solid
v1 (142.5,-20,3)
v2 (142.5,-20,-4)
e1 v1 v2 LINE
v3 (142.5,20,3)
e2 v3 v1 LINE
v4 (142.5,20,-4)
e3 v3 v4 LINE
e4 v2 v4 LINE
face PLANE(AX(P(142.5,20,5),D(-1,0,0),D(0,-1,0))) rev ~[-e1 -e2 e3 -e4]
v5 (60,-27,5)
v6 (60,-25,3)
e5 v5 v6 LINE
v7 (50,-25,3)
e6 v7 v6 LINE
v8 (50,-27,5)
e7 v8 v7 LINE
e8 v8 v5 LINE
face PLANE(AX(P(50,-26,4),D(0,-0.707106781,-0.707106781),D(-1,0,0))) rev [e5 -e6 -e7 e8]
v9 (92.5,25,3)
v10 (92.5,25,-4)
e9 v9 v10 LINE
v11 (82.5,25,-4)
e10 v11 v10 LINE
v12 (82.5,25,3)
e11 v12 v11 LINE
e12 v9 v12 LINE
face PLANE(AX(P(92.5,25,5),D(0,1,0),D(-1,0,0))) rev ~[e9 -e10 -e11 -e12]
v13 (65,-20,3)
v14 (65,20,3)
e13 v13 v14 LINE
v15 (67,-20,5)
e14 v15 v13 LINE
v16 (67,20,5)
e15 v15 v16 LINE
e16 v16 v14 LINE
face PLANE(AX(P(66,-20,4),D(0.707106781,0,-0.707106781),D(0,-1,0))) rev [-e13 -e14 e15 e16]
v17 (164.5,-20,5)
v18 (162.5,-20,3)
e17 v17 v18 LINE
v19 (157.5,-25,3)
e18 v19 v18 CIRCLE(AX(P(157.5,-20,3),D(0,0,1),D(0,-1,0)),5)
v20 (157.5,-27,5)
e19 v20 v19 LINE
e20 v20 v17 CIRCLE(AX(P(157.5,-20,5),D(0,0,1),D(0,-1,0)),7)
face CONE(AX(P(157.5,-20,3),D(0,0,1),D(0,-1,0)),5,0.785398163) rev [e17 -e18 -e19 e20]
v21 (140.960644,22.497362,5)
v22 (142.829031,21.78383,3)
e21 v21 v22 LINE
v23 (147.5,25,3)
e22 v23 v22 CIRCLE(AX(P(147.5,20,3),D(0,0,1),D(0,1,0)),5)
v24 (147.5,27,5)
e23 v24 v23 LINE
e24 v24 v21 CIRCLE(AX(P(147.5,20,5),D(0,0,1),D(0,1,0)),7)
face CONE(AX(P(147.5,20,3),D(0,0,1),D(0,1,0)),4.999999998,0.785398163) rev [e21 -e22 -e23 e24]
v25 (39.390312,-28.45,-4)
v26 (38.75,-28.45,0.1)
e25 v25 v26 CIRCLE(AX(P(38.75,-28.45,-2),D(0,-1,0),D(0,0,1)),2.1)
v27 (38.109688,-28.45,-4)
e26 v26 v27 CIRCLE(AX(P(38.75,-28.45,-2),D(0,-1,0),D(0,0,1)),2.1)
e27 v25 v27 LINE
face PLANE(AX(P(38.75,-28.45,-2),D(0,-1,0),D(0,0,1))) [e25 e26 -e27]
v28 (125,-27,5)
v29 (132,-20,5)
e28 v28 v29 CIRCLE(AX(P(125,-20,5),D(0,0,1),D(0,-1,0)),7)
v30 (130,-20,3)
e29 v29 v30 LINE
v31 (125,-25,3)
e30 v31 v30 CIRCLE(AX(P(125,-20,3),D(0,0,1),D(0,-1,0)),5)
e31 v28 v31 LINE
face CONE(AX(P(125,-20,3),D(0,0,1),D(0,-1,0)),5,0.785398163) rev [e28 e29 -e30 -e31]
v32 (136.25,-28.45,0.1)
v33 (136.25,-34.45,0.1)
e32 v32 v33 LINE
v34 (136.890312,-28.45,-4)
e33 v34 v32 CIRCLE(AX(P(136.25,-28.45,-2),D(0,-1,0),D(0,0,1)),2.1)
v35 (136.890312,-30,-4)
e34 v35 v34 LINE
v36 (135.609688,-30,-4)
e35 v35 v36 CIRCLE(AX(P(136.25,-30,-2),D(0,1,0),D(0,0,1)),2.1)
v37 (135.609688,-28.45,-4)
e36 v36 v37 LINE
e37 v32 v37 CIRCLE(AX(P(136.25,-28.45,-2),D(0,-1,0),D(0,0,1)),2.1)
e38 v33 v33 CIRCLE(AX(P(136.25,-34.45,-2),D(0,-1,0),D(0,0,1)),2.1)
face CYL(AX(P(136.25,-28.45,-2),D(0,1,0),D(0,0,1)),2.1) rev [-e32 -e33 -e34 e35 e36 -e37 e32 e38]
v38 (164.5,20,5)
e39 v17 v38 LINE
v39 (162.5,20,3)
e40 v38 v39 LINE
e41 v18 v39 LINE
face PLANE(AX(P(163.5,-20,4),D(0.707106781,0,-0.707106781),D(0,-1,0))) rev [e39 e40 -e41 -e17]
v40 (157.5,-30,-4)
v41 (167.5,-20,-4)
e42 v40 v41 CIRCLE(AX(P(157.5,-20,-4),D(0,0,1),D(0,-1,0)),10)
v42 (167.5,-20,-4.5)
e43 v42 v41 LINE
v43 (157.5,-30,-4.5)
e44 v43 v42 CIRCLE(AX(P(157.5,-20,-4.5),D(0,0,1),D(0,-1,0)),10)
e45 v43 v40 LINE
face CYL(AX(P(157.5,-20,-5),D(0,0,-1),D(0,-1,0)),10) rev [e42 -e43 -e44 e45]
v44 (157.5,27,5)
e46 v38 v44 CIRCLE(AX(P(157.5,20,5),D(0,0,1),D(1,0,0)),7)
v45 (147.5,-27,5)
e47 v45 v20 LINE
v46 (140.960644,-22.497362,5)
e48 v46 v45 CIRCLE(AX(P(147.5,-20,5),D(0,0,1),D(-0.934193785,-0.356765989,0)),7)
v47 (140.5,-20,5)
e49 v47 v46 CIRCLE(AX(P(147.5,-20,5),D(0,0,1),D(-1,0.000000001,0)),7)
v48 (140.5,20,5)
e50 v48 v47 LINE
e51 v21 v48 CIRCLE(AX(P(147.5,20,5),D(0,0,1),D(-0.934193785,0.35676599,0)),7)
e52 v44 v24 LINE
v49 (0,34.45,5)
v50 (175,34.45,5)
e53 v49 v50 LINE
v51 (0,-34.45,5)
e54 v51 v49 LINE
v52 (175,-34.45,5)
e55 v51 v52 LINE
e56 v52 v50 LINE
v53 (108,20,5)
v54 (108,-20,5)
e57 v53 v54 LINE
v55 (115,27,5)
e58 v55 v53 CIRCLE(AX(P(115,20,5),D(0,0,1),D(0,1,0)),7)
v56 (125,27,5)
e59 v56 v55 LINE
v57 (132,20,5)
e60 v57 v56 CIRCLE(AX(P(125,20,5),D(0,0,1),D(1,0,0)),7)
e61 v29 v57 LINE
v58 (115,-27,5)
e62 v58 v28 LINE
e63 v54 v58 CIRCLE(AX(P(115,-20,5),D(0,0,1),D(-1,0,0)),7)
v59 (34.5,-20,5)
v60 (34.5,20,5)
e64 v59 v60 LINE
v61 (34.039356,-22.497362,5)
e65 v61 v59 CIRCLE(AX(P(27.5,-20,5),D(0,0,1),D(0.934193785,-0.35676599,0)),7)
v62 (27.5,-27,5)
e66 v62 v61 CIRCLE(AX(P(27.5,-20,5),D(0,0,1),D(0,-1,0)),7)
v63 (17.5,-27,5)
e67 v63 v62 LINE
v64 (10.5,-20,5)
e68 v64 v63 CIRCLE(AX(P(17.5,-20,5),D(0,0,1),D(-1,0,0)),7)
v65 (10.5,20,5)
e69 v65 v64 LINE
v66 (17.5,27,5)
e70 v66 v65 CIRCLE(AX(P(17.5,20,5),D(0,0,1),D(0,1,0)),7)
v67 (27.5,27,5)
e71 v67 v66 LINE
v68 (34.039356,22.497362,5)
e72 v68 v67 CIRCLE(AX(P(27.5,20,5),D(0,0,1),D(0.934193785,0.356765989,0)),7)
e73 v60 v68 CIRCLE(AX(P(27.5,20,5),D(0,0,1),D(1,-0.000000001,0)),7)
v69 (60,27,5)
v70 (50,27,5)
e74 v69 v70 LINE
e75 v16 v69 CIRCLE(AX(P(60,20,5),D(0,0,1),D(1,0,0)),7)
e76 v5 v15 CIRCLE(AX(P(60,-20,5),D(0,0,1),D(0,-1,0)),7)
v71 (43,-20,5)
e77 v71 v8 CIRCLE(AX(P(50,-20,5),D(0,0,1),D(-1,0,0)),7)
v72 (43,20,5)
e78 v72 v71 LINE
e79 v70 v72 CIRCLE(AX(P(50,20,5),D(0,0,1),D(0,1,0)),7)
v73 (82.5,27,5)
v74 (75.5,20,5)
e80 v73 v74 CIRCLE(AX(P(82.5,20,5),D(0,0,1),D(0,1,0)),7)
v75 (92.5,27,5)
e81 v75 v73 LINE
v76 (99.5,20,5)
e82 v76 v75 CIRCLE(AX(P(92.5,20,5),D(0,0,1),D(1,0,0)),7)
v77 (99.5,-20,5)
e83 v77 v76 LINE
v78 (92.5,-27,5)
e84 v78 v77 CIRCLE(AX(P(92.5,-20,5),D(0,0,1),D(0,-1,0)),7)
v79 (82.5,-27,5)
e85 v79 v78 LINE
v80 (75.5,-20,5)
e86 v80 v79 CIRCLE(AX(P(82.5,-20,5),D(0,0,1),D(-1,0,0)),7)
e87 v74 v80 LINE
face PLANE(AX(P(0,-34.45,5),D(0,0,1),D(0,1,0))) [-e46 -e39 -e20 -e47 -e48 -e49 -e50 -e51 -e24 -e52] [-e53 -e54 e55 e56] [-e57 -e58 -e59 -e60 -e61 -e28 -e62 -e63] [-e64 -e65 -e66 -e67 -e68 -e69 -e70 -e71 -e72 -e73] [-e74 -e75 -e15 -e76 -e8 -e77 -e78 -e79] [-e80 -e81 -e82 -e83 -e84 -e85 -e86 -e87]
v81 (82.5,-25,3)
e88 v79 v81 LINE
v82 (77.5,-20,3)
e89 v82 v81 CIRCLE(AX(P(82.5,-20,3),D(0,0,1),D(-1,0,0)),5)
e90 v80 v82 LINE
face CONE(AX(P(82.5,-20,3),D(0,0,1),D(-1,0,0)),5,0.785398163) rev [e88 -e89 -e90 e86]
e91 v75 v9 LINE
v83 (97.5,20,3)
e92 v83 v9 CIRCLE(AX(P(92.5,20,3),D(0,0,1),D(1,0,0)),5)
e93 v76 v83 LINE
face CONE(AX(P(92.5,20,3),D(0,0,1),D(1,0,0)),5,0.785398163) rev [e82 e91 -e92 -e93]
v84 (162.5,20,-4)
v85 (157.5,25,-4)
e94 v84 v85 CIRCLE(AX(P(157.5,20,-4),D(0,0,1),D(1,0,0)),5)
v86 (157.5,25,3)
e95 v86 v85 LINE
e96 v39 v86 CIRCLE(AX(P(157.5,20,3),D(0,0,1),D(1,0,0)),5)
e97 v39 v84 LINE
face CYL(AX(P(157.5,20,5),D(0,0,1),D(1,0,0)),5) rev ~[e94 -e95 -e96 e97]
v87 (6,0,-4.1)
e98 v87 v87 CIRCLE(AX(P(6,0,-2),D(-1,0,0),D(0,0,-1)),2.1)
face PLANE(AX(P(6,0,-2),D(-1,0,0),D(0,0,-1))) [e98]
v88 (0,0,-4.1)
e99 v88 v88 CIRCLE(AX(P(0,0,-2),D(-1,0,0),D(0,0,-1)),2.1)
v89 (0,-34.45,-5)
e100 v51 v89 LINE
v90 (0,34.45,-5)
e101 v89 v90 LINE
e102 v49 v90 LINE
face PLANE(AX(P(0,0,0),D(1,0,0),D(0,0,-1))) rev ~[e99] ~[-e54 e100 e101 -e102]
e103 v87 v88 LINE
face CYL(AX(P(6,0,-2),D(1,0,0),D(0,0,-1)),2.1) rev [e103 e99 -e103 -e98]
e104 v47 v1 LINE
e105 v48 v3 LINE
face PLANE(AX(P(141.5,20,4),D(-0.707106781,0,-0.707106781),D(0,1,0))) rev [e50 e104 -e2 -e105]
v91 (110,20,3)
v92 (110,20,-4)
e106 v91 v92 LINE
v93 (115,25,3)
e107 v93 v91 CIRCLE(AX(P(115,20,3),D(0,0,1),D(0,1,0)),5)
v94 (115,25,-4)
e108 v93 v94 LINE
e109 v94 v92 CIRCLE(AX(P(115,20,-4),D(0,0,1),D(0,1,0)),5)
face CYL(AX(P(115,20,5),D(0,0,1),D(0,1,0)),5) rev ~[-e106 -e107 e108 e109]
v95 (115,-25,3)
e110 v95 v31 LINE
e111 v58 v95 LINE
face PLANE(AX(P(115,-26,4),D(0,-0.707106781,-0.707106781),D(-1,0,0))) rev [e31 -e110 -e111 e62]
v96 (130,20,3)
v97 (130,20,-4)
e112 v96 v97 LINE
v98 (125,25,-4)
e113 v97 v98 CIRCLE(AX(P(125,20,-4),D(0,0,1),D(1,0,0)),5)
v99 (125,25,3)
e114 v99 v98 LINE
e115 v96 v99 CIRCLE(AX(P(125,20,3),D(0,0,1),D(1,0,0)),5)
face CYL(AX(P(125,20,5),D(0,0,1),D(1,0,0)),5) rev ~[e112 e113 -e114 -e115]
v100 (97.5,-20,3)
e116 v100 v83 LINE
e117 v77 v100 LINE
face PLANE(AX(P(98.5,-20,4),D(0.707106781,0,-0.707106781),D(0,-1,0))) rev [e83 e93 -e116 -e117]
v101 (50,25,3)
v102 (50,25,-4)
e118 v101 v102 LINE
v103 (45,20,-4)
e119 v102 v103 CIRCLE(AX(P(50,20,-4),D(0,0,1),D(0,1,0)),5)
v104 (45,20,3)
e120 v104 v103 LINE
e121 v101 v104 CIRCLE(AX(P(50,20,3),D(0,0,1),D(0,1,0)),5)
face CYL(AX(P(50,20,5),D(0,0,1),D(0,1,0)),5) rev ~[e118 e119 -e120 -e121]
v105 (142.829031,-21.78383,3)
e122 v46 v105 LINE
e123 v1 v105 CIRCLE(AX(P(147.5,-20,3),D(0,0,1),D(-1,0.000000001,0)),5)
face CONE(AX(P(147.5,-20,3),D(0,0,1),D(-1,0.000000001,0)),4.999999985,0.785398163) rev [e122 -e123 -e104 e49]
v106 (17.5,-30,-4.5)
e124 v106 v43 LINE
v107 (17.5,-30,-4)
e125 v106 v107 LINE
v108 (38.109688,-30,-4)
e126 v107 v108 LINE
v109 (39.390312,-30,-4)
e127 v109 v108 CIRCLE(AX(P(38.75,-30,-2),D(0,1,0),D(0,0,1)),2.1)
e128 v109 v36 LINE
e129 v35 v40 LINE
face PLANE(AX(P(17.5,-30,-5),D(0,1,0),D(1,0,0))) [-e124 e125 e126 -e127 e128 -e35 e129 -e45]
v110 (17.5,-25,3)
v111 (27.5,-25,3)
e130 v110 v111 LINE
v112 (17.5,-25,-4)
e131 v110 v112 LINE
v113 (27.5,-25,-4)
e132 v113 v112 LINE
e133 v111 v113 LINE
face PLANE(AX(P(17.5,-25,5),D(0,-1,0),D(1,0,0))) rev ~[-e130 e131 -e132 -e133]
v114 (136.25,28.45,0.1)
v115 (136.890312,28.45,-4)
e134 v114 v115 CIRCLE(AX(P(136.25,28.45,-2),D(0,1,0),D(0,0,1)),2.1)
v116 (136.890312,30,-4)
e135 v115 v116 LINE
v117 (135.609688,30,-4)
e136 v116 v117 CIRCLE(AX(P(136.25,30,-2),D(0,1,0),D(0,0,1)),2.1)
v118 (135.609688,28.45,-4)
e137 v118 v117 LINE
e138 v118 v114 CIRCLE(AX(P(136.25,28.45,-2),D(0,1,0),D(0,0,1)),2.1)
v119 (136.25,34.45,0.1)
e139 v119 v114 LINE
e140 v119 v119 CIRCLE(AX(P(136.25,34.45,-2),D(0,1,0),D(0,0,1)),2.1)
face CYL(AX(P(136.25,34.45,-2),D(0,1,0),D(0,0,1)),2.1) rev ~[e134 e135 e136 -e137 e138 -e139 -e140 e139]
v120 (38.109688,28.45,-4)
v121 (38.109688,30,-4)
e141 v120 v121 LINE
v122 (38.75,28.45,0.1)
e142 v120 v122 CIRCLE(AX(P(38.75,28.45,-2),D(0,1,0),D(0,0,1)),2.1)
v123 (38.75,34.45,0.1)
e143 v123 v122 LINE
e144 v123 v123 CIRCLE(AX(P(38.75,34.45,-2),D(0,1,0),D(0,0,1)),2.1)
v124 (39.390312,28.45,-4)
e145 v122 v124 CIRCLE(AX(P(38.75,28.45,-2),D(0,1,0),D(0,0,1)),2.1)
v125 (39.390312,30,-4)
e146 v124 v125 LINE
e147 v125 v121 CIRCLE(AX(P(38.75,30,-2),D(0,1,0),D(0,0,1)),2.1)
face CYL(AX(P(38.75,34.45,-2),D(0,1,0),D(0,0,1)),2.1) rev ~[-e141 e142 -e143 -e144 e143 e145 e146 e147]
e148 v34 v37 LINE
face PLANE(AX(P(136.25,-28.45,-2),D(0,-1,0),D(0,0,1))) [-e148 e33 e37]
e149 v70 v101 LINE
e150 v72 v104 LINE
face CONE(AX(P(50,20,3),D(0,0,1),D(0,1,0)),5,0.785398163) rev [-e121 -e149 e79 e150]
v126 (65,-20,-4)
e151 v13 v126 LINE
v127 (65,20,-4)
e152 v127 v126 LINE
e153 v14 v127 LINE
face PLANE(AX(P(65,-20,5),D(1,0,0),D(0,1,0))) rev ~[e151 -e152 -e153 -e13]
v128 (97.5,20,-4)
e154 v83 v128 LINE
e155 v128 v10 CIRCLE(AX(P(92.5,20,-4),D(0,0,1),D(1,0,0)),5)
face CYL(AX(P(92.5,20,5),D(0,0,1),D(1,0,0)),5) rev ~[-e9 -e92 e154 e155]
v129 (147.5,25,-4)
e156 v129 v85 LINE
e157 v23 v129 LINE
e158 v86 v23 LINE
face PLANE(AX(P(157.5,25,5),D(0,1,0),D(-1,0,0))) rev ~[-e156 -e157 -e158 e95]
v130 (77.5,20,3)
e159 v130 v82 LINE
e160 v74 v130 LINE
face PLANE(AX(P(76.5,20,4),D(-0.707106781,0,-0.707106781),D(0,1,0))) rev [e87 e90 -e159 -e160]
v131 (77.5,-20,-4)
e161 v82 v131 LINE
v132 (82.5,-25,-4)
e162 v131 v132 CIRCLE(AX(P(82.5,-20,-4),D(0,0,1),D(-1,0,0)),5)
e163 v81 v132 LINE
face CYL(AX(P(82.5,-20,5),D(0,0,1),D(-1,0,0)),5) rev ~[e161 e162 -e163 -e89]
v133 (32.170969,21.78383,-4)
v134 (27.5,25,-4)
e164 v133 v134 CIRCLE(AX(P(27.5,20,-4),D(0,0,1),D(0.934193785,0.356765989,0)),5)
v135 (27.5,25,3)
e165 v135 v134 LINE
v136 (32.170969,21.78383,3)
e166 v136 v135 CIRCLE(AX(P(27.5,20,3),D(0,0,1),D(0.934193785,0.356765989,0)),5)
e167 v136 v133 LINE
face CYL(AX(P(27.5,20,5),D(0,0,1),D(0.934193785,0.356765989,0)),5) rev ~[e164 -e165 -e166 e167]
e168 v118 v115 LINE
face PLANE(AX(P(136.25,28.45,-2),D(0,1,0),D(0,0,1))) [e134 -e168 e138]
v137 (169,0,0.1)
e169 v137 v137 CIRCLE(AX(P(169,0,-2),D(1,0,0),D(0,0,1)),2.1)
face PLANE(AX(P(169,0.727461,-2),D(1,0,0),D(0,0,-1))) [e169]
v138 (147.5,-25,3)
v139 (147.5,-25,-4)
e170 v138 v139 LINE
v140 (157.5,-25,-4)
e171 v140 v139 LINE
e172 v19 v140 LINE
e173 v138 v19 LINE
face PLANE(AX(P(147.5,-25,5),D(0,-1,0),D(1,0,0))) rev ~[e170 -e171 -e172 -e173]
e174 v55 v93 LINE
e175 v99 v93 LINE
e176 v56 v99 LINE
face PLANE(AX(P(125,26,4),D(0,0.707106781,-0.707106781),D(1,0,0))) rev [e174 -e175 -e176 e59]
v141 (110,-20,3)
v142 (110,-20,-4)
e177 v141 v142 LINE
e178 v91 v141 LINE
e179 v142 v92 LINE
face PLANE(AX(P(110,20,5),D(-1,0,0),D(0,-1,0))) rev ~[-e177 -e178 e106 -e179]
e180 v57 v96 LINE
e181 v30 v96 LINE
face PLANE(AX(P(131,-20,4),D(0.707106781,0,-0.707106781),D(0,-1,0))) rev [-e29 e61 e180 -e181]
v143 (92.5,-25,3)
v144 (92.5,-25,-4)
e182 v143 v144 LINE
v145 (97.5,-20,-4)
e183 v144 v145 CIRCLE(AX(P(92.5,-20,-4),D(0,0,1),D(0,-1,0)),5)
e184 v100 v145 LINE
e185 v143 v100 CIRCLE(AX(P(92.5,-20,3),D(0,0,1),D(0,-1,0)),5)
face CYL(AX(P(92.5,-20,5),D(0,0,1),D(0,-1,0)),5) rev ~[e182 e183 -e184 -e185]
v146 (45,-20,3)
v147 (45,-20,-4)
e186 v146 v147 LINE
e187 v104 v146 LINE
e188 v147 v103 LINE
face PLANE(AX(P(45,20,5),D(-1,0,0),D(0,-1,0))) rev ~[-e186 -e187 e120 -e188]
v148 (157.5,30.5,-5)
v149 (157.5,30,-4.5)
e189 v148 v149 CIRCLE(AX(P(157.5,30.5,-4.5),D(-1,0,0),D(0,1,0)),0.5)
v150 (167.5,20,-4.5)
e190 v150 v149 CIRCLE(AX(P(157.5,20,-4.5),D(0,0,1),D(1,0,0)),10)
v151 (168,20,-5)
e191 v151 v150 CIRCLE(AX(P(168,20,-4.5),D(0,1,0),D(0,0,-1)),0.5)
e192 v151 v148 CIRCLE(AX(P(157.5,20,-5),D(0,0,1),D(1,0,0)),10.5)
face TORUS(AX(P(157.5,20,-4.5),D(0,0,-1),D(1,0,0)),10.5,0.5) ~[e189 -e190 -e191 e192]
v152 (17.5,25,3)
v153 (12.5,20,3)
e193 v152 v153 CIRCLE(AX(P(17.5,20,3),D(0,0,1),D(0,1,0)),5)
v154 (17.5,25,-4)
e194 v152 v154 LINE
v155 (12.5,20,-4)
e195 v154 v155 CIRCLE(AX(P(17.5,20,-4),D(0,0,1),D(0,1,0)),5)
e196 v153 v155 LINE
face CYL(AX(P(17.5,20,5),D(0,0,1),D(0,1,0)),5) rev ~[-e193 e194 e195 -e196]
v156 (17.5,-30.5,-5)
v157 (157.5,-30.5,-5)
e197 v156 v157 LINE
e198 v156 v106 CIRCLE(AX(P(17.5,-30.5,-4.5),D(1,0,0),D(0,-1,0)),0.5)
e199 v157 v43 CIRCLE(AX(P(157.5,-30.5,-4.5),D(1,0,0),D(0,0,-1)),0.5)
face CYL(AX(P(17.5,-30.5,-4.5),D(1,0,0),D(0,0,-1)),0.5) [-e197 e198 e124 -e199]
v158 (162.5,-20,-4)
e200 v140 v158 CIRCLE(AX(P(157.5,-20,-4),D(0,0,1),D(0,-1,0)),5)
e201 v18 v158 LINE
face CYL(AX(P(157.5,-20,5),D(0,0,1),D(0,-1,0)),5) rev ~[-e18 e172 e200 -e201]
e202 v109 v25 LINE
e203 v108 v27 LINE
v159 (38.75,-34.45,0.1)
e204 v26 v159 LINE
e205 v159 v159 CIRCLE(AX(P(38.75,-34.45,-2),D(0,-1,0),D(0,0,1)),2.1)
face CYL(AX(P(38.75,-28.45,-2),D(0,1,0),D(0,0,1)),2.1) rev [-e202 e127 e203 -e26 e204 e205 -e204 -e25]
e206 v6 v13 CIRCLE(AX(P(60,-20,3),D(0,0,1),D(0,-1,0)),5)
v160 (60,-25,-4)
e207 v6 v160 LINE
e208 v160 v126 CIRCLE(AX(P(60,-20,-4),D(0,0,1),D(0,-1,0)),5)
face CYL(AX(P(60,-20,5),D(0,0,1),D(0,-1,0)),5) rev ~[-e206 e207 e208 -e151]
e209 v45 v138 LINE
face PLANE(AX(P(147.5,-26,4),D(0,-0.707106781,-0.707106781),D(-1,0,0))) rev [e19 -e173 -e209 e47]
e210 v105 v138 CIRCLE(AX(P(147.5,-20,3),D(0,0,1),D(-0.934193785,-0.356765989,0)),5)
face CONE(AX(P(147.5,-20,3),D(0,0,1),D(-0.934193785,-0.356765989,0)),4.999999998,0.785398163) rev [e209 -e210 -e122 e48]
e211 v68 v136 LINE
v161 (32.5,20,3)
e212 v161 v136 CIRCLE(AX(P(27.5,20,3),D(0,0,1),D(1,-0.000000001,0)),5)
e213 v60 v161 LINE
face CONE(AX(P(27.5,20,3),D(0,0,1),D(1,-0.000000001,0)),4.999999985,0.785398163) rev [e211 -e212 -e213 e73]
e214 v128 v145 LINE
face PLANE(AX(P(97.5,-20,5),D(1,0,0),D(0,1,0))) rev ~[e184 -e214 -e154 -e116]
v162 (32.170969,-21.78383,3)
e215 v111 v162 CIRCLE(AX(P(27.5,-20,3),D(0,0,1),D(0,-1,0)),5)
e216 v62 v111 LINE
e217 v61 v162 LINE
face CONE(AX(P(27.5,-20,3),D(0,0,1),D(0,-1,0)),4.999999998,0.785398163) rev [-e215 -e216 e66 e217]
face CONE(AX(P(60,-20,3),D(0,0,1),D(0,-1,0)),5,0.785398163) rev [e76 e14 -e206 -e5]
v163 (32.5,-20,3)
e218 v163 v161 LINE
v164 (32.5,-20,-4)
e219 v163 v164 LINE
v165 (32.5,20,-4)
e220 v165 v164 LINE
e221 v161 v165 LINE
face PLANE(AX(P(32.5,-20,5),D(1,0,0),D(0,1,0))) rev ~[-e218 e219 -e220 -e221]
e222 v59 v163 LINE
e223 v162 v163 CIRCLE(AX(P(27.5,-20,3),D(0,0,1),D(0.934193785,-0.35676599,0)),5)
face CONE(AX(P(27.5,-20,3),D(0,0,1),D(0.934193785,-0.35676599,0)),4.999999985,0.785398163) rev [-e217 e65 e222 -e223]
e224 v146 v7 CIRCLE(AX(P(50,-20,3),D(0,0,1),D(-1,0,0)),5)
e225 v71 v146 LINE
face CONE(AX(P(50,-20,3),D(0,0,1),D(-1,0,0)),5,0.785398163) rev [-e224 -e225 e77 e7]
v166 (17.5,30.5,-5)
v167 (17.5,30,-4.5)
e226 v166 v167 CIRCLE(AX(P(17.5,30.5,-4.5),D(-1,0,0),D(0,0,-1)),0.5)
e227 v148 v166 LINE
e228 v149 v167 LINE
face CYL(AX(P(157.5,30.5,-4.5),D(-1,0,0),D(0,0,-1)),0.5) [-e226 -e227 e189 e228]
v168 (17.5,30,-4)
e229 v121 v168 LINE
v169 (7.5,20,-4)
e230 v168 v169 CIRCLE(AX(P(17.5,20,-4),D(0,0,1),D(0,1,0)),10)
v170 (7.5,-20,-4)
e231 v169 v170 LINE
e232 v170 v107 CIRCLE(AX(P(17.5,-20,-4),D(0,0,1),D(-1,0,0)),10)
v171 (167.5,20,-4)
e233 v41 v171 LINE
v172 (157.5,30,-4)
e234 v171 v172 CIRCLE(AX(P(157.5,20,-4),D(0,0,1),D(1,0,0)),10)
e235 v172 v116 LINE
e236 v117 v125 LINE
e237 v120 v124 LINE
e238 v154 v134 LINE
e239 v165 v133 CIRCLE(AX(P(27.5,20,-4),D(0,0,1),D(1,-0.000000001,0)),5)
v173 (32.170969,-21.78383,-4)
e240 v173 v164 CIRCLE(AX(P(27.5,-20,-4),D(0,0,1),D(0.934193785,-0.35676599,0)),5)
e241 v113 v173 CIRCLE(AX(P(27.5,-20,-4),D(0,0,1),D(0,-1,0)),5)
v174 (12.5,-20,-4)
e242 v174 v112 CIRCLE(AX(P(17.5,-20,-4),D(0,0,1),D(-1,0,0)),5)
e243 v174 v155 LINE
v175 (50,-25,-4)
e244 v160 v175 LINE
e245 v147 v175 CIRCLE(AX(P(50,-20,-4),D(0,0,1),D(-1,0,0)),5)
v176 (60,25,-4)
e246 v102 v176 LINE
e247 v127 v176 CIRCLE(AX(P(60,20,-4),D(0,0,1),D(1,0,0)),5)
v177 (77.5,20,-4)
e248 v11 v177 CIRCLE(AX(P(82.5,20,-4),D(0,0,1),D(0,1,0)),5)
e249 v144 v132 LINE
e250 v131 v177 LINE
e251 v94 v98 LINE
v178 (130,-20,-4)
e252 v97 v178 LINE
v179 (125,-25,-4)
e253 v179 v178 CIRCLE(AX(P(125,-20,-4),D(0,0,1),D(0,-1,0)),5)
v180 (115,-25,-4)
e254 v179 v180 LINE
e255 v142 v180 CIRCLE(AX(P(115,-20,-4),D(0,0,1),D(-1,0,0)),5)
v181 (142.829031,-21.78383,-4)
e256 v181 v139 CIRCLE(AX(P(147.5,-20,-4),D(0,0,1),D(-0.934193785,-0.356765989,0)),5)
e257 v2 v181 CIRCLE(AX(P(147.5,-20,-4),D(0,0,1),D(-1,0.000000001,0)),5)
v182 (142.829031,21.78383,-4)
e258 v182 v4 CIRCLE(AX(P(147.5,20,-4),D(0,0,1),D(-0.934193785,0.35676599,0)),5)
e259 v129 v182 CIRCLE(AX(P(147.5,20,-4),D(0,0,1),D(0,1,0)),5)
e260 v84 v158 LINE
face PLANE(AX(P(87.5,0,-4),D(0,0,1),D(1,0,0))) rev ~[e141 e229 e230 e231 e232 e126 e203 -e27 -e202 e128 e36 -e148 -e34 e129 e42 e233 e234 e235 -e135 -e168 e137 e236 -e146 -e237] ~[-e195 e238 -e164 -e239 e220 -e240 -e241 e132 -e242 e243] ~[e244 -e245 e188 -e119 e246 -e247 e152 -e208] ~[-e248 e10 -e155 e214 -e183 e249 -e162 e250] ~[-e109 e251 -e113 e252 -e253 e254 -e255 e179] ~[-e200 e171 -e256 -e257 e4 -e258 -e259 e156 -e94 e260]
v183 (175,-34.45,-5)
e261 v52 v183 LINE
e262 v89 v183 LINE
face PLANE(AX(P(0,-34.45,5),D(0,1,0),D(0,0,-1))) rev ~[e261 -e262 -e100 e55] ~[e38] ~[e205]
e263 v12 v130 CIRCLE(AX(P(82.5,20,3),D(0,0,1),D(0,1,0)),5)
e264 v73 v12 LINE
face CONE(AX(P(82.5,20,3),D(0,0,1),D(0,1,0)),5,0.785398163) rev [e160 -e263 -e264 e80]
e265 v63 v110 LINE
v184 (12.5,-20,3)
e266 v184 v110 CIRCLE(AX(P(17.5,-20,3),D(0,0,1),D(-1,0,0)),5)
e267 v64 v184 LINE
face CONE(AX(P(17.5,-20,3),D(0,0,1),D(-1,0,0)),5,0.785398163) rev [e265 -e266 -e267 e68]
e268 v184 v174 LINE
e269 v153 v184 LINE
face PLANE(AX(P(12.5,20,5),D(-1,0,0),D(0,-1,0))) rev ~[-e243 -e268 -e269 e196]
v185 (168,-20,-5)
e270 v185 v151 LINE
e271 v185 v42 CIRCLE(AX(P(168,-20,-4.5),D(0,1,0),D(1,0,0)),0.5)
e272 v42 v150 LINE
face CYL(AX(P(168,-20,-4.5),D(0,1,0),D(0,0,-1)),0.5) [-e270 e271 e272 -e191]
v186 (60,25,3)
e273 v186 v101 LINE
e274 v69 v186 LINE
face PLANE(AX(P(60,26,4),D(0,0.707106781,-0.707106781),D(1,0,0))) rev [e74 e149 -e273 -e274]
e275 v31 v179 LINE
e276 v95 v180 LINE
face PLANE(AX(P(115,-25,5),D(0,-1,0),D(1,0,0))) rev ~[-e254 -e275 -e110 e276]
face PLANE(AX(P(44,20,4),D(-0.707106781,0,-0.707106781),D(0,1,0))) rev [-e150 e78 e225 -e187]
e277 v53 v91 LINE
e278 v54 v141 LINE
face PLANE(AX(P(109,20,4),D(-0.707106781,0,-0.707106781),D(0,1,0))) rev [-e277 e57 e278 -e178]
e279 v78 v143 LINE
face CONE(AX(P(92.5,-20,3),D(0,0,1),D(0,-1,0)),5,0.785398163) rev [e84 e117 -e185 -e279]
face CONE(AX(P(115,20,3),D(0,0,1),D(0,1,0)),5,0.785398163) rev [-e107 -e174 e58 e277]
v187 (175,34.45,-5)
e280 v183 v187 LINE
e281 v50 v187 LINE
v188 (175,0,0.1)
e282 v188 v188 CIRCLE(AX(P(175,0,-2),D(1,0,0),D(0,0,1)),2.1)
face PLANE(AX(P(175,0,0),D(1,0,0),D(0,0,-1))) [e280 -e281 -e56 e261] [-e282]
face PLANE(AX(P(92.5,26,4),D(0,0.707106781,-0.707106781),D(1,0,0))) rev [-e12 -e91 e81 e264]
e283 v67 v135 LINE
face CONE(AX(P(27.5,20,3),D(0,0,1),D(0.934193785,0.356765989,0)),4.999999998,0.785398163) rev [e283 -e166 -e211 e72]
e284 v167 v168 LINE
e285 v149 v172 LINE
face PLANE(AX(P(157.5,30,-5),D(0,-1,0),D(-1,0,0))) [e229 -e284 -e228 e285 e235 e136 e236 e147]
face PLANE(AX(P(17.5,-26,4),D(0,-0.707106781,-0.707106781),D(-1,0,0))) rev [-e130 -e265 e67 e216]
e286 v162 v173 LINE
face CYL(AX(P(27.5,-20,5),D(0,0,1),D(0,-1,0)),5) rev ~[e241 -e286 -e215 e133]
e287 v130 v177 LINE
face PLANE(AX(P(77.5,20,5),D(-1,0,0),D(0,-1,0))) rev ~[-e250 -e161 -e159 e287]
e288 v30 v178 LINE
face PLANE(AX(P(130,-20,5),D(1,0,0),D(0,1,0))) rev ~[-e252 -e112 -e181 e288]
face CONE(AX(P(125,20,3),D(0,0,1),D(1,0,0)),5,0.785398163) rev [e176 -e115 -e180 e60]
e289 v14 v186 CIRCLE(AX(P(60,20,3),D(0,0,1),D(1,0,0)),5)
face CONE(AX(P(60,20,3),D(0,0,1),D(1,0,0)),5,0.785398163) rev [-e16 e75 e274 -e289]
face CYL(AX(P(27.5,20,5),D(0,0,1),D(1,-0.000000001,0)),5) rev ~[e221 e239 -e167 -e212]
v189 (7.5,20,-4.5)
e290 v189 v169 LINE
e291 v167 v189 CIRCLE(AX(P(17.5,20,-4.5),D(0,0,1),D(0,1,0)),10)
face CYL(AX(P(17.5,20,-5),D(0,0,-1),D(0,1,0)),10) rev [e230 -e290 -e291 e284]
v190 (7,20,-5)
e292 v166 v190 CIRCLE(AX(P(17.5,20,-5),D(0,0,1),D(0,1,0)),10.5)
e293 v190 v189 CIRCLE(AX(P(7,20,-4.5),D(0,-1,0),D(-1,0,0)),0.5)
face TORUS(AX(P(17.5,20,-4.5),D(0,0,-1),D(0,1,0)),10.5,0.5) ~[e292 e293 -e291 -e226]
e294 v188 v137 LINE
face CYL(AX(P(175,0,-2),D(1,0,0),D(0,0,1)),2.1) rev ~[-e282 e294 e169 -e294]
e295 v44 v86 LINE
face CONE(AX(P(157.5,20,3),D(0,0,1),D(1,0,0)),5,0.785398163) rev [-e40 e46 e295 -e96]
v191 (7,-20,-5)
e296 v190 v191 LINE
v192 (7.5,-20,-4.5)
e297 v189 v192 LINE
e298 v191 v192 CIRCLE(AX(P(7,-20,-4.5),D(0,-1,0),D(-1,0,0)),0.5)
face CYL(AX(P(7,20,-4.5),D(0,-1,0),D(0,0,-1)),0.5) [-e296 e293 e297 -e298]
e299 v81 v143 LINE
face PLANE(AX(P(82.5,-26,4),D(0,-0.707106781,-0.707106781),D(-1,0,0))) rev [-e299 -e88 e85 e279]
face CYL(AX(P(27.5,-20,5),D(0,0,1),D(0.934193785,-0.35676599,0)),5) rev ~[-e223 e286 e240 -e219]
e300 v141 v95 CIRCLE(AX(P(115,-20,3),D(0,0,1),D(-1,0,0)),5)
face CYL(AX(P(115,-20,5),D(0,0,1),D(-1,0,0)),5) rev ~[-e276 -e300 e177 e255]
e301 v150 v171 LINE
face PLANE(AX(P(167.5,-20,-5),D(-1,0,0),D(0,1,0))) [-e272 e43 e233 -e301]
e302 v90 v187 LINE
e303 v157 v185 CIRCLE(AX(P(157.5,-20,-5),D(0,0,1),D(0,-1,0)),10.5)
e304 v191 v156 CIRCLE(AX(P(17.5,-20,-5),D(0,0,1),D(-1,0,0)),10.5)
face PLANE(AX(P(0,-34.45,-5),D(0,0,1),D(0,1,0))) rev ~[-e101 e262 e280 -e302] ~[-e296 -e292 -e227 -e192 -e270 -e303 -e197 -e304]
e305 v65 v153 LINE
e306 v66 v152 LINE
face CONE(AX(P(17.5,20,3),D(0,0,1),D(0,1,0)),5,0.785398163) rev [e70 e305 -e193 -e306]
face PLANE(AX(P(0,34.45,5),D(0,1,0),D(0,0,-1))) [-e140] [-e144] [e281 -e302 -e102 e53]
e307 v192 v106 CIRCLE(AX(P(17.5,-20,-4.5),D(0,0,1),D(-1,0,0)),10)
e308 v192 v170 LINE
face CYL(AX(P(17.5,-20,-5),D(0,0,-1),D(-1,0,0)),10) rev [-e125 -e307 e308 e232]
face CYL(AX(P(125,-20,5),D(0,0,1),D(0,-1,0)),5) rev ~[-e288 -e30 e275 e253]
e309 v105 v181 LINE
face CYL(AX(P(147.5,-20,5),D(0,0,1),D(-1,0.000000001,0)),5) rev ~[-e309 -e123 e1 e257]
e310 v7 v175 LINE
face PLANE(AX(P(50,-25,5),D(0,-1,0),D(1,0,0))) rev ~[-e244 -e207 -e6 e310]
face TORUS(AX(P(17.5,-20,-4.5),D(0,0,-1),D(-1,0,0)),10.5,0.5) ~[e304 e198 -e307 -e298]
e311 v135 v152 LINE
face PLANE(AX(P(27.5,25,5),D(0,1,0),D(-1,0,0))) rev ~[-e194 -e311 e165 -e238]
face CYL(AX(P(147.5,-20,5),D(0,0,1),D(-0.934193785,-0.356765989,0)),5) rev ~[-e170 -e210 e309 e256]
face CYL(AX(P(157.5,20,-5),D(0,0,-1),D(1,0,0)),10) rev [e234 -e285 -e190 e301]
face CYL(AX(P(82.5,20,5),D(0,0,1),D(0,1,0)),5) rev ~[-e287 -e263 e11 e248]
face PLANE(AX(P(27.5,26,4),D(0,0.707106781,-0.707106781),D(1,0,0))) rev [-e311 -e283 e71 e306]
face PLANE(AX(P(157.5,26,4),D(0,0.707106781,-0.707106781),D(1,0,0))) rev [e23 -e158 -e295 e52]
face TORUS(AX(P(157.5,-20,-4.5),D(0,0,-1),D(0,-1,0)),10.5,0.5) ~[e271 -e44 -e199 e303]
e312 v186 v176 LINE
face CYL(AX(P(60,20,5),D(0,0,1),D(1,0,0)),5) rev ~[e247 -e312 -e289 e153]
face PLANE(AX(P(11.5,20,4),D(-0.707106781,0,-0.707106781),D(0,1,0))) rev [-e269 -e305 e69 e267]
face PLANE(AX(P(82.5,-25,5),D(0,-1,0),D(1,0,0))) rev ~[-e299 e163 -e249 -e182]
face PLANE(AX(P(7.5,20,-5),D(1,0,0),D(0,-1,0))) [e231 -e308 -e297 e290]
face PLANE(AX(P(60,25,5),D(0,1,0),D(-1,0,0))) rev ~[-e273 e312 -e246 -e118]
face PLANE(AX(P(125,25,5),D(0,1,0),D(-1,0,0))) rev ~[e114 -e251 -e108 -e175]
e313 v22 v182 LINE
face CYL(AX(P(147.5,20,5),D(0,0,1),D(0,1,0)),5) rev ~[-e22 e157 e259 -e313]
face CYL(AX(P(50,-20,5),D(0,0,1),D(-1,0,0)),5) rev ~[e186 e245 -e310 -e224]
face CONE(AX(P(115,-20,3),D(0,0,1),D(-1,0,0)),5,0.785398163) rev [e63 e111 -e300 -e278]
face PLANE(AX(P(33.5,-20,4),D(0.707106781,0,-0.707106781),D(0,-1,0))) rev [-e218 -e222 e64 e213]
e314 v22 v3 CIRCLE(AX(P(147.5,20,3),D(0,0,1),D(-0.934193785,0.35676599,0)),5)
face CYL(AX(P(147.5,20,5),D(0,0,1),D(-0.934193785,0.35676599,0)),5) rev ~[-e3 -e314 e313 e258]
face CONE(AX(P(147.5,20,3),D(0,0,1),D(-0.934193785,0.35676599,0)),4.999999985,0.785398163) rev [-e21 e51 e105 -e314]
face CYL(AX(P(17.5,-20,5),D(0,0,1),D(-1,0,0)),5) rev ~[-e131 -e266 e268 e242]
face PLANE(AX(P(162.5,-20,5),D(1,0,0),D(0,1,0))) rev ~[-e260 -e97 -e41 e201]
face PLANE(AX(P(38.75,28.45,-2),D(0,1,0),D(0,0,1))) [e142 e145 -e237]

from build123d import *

# Parameters (mm, degrees)
SKETCH_1_W           = 10
SKETCH_1_H           = 68.9
EXTRUDE_1_DEPTH      = 175
CUT_EXTRUDE_1_DEPTH  = 10
CHAMFER_1_SIZE       = 2
SKETCH_5_R           = 2.1
CUT_EXTRUDE_4_DEPTH  = 6
CUT_EXTRUDE_START    = -6
SKETCH_8_R           = 2.1
CUT_EXTRUDE_7_DEPTH  = 6
CUT_EXTRUDE_8_DEPTH  = 6
SKETCH_10_R          = 2.1
CUT_EXTRUDE_10_DEPTH = 6
CUT_EXTRUDE_11_DEPTH = 1
FILLET_1_R           = 0.5


with BuildPart() as part:
    # 草图1 → 凸台-拉伸1 (new body)
    with BuildSketch(Plane(origin=(0, 0, 0), x_dir=(0, 0, -1), z_dir=(1, 0, 0))):
        Rectangle(SKETCH_1_W, SKETCH_1_H)
    extrude(amount=EXTRUDE_1_DEPTH)

    # 草图2 → 切除-拉伸1 (cut)
    with BuildSketch(Plane.XY.offset(5)):
        Polygon((65, 8.858571429), (45, 16.732857143), (45, -16.732857143), (65, -8.858571429), align=None)
        with BuildLine():
            Line((45, 20), (45, 16.732857143))
            Line((45, 16.732857143), (65, 8.858571429))
            Line((65, 8.858571429), (65, 20))
            ThreePointArc((65, 20), (63.535533906, 23.535533906), (60, 25))
            Line((60, 25), (50, 25))
            ThreePointArc((50, 25), (46.464466094, 23.535533906), (45, 20))
        make_face()
        with BuildLine():
            Line((65, -8.858571429), (45, -16.732857143))
            Line((45, -16.732857143), (45, -20))
            ThreePointArc((45, -20), (46.464466094, -23.535533906), (50, -25))
            Line((50, -25), (60, -25))
            ThreePointArc((60, -25), (63.535533906, -23.535533906), (65, -20))
            Line((65, -20), (65, -8.858571429))
        make_face()
        with BuildLine():
            Line((32.170968927, -21.783829948), (24.002177068, -25))
            Line((24.002177068, -25), (27.5, -25))
            ThreePointArc((27.5, -25), (30.335564341, -24.118200441), (32.170968927, -21.783829948))
        make_face()
        with BuildLine():
            Line((32.170968927, 21.783829948), (24.002177068, 25))
            Line((24.002177068, 25), (17.5, 25))
            ThreePointArc((17.5, 25), (13.964466094, 23.535533906), (12.5, 20))
            Line((12.5, 20), (12.5, -20))
            ThreePointArc((12.5, -20), (13.964466094, -23.535533906), (17.5, -25))
            Line((17.5, -25), (24.002177068, -25))
            Line((24.002177068, -25), (32.170968927, -21.783829948))
            ThreePointArc((32.170968927, -21.783829948), (32.417054232, -20.906960684), (32.5, -20))
            Line((32.5, -20), (32.5, 20))
            ThreePointArc((32.5, 20), (32.417054232, 20.906960684), (32.170968927, 21.783829948))
        make_face()
        with BuildLine():
            Line((27.5, 25), (24.002177068, 25))
            Line((24.002177068, 25), (32.170968927, 21.783829948))
            ThreePointArc((32.170968927, 21.783829948), (30.335564341, 24.118200441), (27.5, 25))
        make_face()
        with BuildLine():
            Line((87.5, 0), (97.5, 3.937142857))
            Line((97.5, 3.937142857), (97.5, 20))
            ThreePointArc((97.5, 20), (96.035533906, 23.535533906), (92.5, 25))
            Line((92.5, 25), (82.5, 25))
            ThreePointArc((82.5, 25), (78.964466094, 23.535533906), (77.5, 20))
            Line((77.5, 20), (77.5, 3.937142857))
            Line((77.5, 3.937142857), (87.5, 0))
        make_face()
        Polygon((77.5, -3.937142857), (87.5, 0), (77.5, 3.937142857), align=None)
        with BuildLine():
            Line((97.5, -3.937142857), (87.5, 0))
            Line((87.5, 0), (77.5, -3.937142857))
            Line((77.5, -3.937142857), (77.5, -20))
            ThreePointArc((77.5, -20), (78.964466094, -23.535533906), (82.5, -25))
            Line((82.5, -25), (92.5, -25))
            ThreePointArc((92.5, -25), (96.035533906, -23.535533906), (97.5, -20))
            Line((97.5, -20), (97.5, -3.937142857))
        make_face()
        Polygon((97.5, -3.937142857), (97.5, 3.937142857), (87.5, 0), align=None)
        Polygon((130, -16.732857143), (130, 16.732857143), (110, 8.858571429), (110, -8.858571429), align=None)
        with BuildLine():
            Line((130, -20), (130, -16.732857143))
            Line((130, -16.732857143), (110, -8.858571429))
            Line((110, -8.858571429), (110, -20))
            ThreePointArc((110, -20), (111.464466094, -23.535533906), (115, -25))
            Line((115, -25), (125, -25))
            ThreePointArc((125, -25), (128.535533906, -23.535533906), (130, -20))
        make_face()
        with BuildLine():
            Line((110, 8.858571429), (130, 16.732857143))
            Line((130, 16.732857143), (130, 20))
            ThreePointArc((130, 20), (128.535533906, 23.535533906), (125, 25))
            Line((125, 25), (115, 25))
            ThreePointArc((115, 25), (111.464466094, 23.535533906), (110, 20))
            Line((110, 20), (110, 8.858571429))
        make_face()
        with BuildLine():
            Line((157.5, 25), (150.997822932, 25))
            Line((150.997822932, 25), (142.829031073, 21.783829948))
            ThreePointArc((142.829031073, 21.783829948), (142.582945768, 20.906960684), (142.5, 20))
            Line((142.5, 20), (142.5, -20))
            ThreePointArc((142.5, -20), (142.582945768, -20.906960684), (142.829031073, -21.783829948))
            Line((142.829031073, -21.783829948), (150.997822932, -25))
            Line((150.997822932, -25), (157.5, -25))
            ThreePointArc((157.5, -25), (161.035533906, -23.535533906), (162.5, -20))
            Line((162.5, -20), (162.5, 20))
            ThreePointArc((162.5, 20), (161.035533906, 23.535533906), (157.5, 25))
        make_face()
        with BuildLine():
            Line((142.829031073, 21.783829948), (150.997822932, 25))
            Line((150.997822932, 25), (147.5, 25))
            ThreePointArc((147.5, 25), (144.664435659, 24.118200441), (142.829031073, 21.783829948))
        make_face()
        with BuildLine():
            Line((147.5, -25), (150.997822932, -25))
            Line((150.997822932, -25), (142.829031073, -21.783829948))
            ThreePointArc((142.829031073, -21.783829948), (144.664435659, -24.118200441), (147.5, -25))
        make_face()
    extrude(amount=-CUT_EXTRUDE_1_DEPTH, mode=Mode.SUBTRACT)

    # 倒角1
    chamfer_1_edges = [part.edges().sort_by_distance(p)[0] for p in [
        (46.464466094, 23.535533906, 5),
        (55, 25, 5),
        (63.535533906, 23.535533906, 5),
        (55, -25, 5),
        (143.964466094, -23.535533906, 5),
        (142.5, 0, 5),
        (143.964466094, 23.535533906, 5),
        (152.5, 25, 5),
        (161.035533906, 23.535533906, 5),
        (162.5, 0, 5),
        (161.035533906, -23.535533906, 5),
        (152.5, -25, 5),
        (130, 0, 5),
        (128.535533906, -23.535533906, 5),
        (111.464466094, -23.535533906, 5),
        (110, 0, 5),
        (111.464466094, 23.535533906, 5),
        (120, 25, 5),
        (128.535533906, 23.535533906, 5),
        (120, -25, 5),
        (77.5, 0, 5),
        (78.964466094, 23.535533906, 5),
        (87.5, 25, 5),
        (96.035533906, 23.535533906, 5),
        (97.5, 0, 5),
        (96.035533906, -23.535533906, 5),
        (78.964466094, -23.535533906, 5),
        (87.5, -25, 5),
        (31.035533906, -23.535533906, 5),
        (13.964466094, -23.535533906, 5),
        (12.5, 0, 5),
        (13.964466094, 23.535533906, 5),
        (22.5, 25, 5),
        (31.035533906, 23.535533906, 5),
        (32.5, 0, 5),
        (22.5, -25, 5),
        (65, 0, 5),
        (63.535533906, -23.535533906, 5),
        (46.464466094, -23.535533906, 5),
        (45, 0, 5),
    ]]
    chamfer(chamfer_1_edges, length=CHAMFER_1_SIZE)

    # 草图5 → 切除-拉伸4 (cut)
    with BuildSketch(Plane(origin=(0, 34.45, 0), x_dir=(1, 0, 0), z_dir=(0, 1, 0))):
        with Locations(Location((38.75, 2, 0), (0, 0, 270))):
            Circle(SKETCH_5_R)
        with Locations(Location((136.25, 2, 0), (0, 0, 270))):
            Circle(SKETCH_5_R)
    extrude(amount=-CUT_EXTRUDE_4_DEPTH, mode=Mode.SUBTRACT)

    # 草图8 → 切除-拉伸7 (cut)
    with BuildSketch(Plane.XZ.offset(34.45).offset(CUT_EXTRUDE_START)):
        with Locations(Location((136.25, -2, 0), (0, 0, 90))):
            Circle(SKETCH_8_R)
        with Locations(Location((38.75, -2, 0), (0, 0, 90))):
            Circle(SKETCH_8_R)
    extrude(amount=CUT_EXTRUDE_7_DEPTH, mode=Mode.SUBTRACT)

    # 草图9 → 切除-拉伸8 (cut)
    with BuildSketch(Plane(origin=(175, 0, 0), x_dir=(0, 0, -1), z_dir=(1, 0, 0))):
        with BuildLine():
            ThreePointArc((4.1, 0), (2, 2.1), (-0.1, 0))
            Line((-0.1, 0), (4.1, 0))
        make_face()
        with BuildLine():
            Line((4.1, 0), (-0.1, 0))
            ThreePointArc((-0.1, 0), (2, -2.1), (4.1, 0))
        make_face()
    extrude(amount=-CUT_EXTRUDE_8_DEPTH, mode=Mode.SUBTRACT)

    # 草图10 → 切除-拉伸10 (cut)
    with BuildSketch(Plane.ZY.offset(CUT_EXTRUDE_START)):
        with Locations(Location((-2, 0, 0), (0, 0, 180))):
            Circle(SKETCH_10_R)
    extrude(amount=CUT_EXTRUDE_10_DEPTH, mode=Mode.SUBTRACT)

    # 草图11 → 切除-拉伸11 (cut)
    with BuildSketch(Plane(origin=(0, 0, -5), x_dir=(-1, 0, 0), z_dir=(0, 0, -1))):
        with BuildLine():
            Line((-157.5, 30), (-17.5, 30))
            ThreePointArc((-17.5, 30), (-10.428932188, 27.071067812), (-7.5, 20))
            Line((-7.5, 20), (-7.5, -20))
            ThreePointArc((-7.5, -20), (-10.428932188, -27.071067812), (-17.5, -30))
            Line((-17.5, -30), (-157.5, -30))
            ThreePointArc((-157.5, -30), (-164.571067812, -27.071067812), (-167.5, -20))
            Line((-167.5, -20), (-167.5, 20))
            ThreePointArc((-167.5, 20), (-164.571067812, 27.071067812), (-157.5, 30))
        make_face()
    extrude(amount=-CUT_EXTRUDE_11_DEPTH, mode=Mode.SUBTRACT)

    # 圆角1
    fillet_1_edges = [part.edges().sort_by_distance(p)[0] for p in [
        (10.428932188, -27.071067812, -5),
        (7.5, 0, -5),
        (10.428932188, 27.071067812, -5),
        (87.5, 30, -5),
        (164.571067812, 27.071067812, -5),
        (167.5, 0, -5),
        (164.571067812, -27.071067812, -5),
        (87.5, -30, -5),
    ]]
    fillet(fillet_1_edges, radius=FILLET_1_R)


solid = part.part
